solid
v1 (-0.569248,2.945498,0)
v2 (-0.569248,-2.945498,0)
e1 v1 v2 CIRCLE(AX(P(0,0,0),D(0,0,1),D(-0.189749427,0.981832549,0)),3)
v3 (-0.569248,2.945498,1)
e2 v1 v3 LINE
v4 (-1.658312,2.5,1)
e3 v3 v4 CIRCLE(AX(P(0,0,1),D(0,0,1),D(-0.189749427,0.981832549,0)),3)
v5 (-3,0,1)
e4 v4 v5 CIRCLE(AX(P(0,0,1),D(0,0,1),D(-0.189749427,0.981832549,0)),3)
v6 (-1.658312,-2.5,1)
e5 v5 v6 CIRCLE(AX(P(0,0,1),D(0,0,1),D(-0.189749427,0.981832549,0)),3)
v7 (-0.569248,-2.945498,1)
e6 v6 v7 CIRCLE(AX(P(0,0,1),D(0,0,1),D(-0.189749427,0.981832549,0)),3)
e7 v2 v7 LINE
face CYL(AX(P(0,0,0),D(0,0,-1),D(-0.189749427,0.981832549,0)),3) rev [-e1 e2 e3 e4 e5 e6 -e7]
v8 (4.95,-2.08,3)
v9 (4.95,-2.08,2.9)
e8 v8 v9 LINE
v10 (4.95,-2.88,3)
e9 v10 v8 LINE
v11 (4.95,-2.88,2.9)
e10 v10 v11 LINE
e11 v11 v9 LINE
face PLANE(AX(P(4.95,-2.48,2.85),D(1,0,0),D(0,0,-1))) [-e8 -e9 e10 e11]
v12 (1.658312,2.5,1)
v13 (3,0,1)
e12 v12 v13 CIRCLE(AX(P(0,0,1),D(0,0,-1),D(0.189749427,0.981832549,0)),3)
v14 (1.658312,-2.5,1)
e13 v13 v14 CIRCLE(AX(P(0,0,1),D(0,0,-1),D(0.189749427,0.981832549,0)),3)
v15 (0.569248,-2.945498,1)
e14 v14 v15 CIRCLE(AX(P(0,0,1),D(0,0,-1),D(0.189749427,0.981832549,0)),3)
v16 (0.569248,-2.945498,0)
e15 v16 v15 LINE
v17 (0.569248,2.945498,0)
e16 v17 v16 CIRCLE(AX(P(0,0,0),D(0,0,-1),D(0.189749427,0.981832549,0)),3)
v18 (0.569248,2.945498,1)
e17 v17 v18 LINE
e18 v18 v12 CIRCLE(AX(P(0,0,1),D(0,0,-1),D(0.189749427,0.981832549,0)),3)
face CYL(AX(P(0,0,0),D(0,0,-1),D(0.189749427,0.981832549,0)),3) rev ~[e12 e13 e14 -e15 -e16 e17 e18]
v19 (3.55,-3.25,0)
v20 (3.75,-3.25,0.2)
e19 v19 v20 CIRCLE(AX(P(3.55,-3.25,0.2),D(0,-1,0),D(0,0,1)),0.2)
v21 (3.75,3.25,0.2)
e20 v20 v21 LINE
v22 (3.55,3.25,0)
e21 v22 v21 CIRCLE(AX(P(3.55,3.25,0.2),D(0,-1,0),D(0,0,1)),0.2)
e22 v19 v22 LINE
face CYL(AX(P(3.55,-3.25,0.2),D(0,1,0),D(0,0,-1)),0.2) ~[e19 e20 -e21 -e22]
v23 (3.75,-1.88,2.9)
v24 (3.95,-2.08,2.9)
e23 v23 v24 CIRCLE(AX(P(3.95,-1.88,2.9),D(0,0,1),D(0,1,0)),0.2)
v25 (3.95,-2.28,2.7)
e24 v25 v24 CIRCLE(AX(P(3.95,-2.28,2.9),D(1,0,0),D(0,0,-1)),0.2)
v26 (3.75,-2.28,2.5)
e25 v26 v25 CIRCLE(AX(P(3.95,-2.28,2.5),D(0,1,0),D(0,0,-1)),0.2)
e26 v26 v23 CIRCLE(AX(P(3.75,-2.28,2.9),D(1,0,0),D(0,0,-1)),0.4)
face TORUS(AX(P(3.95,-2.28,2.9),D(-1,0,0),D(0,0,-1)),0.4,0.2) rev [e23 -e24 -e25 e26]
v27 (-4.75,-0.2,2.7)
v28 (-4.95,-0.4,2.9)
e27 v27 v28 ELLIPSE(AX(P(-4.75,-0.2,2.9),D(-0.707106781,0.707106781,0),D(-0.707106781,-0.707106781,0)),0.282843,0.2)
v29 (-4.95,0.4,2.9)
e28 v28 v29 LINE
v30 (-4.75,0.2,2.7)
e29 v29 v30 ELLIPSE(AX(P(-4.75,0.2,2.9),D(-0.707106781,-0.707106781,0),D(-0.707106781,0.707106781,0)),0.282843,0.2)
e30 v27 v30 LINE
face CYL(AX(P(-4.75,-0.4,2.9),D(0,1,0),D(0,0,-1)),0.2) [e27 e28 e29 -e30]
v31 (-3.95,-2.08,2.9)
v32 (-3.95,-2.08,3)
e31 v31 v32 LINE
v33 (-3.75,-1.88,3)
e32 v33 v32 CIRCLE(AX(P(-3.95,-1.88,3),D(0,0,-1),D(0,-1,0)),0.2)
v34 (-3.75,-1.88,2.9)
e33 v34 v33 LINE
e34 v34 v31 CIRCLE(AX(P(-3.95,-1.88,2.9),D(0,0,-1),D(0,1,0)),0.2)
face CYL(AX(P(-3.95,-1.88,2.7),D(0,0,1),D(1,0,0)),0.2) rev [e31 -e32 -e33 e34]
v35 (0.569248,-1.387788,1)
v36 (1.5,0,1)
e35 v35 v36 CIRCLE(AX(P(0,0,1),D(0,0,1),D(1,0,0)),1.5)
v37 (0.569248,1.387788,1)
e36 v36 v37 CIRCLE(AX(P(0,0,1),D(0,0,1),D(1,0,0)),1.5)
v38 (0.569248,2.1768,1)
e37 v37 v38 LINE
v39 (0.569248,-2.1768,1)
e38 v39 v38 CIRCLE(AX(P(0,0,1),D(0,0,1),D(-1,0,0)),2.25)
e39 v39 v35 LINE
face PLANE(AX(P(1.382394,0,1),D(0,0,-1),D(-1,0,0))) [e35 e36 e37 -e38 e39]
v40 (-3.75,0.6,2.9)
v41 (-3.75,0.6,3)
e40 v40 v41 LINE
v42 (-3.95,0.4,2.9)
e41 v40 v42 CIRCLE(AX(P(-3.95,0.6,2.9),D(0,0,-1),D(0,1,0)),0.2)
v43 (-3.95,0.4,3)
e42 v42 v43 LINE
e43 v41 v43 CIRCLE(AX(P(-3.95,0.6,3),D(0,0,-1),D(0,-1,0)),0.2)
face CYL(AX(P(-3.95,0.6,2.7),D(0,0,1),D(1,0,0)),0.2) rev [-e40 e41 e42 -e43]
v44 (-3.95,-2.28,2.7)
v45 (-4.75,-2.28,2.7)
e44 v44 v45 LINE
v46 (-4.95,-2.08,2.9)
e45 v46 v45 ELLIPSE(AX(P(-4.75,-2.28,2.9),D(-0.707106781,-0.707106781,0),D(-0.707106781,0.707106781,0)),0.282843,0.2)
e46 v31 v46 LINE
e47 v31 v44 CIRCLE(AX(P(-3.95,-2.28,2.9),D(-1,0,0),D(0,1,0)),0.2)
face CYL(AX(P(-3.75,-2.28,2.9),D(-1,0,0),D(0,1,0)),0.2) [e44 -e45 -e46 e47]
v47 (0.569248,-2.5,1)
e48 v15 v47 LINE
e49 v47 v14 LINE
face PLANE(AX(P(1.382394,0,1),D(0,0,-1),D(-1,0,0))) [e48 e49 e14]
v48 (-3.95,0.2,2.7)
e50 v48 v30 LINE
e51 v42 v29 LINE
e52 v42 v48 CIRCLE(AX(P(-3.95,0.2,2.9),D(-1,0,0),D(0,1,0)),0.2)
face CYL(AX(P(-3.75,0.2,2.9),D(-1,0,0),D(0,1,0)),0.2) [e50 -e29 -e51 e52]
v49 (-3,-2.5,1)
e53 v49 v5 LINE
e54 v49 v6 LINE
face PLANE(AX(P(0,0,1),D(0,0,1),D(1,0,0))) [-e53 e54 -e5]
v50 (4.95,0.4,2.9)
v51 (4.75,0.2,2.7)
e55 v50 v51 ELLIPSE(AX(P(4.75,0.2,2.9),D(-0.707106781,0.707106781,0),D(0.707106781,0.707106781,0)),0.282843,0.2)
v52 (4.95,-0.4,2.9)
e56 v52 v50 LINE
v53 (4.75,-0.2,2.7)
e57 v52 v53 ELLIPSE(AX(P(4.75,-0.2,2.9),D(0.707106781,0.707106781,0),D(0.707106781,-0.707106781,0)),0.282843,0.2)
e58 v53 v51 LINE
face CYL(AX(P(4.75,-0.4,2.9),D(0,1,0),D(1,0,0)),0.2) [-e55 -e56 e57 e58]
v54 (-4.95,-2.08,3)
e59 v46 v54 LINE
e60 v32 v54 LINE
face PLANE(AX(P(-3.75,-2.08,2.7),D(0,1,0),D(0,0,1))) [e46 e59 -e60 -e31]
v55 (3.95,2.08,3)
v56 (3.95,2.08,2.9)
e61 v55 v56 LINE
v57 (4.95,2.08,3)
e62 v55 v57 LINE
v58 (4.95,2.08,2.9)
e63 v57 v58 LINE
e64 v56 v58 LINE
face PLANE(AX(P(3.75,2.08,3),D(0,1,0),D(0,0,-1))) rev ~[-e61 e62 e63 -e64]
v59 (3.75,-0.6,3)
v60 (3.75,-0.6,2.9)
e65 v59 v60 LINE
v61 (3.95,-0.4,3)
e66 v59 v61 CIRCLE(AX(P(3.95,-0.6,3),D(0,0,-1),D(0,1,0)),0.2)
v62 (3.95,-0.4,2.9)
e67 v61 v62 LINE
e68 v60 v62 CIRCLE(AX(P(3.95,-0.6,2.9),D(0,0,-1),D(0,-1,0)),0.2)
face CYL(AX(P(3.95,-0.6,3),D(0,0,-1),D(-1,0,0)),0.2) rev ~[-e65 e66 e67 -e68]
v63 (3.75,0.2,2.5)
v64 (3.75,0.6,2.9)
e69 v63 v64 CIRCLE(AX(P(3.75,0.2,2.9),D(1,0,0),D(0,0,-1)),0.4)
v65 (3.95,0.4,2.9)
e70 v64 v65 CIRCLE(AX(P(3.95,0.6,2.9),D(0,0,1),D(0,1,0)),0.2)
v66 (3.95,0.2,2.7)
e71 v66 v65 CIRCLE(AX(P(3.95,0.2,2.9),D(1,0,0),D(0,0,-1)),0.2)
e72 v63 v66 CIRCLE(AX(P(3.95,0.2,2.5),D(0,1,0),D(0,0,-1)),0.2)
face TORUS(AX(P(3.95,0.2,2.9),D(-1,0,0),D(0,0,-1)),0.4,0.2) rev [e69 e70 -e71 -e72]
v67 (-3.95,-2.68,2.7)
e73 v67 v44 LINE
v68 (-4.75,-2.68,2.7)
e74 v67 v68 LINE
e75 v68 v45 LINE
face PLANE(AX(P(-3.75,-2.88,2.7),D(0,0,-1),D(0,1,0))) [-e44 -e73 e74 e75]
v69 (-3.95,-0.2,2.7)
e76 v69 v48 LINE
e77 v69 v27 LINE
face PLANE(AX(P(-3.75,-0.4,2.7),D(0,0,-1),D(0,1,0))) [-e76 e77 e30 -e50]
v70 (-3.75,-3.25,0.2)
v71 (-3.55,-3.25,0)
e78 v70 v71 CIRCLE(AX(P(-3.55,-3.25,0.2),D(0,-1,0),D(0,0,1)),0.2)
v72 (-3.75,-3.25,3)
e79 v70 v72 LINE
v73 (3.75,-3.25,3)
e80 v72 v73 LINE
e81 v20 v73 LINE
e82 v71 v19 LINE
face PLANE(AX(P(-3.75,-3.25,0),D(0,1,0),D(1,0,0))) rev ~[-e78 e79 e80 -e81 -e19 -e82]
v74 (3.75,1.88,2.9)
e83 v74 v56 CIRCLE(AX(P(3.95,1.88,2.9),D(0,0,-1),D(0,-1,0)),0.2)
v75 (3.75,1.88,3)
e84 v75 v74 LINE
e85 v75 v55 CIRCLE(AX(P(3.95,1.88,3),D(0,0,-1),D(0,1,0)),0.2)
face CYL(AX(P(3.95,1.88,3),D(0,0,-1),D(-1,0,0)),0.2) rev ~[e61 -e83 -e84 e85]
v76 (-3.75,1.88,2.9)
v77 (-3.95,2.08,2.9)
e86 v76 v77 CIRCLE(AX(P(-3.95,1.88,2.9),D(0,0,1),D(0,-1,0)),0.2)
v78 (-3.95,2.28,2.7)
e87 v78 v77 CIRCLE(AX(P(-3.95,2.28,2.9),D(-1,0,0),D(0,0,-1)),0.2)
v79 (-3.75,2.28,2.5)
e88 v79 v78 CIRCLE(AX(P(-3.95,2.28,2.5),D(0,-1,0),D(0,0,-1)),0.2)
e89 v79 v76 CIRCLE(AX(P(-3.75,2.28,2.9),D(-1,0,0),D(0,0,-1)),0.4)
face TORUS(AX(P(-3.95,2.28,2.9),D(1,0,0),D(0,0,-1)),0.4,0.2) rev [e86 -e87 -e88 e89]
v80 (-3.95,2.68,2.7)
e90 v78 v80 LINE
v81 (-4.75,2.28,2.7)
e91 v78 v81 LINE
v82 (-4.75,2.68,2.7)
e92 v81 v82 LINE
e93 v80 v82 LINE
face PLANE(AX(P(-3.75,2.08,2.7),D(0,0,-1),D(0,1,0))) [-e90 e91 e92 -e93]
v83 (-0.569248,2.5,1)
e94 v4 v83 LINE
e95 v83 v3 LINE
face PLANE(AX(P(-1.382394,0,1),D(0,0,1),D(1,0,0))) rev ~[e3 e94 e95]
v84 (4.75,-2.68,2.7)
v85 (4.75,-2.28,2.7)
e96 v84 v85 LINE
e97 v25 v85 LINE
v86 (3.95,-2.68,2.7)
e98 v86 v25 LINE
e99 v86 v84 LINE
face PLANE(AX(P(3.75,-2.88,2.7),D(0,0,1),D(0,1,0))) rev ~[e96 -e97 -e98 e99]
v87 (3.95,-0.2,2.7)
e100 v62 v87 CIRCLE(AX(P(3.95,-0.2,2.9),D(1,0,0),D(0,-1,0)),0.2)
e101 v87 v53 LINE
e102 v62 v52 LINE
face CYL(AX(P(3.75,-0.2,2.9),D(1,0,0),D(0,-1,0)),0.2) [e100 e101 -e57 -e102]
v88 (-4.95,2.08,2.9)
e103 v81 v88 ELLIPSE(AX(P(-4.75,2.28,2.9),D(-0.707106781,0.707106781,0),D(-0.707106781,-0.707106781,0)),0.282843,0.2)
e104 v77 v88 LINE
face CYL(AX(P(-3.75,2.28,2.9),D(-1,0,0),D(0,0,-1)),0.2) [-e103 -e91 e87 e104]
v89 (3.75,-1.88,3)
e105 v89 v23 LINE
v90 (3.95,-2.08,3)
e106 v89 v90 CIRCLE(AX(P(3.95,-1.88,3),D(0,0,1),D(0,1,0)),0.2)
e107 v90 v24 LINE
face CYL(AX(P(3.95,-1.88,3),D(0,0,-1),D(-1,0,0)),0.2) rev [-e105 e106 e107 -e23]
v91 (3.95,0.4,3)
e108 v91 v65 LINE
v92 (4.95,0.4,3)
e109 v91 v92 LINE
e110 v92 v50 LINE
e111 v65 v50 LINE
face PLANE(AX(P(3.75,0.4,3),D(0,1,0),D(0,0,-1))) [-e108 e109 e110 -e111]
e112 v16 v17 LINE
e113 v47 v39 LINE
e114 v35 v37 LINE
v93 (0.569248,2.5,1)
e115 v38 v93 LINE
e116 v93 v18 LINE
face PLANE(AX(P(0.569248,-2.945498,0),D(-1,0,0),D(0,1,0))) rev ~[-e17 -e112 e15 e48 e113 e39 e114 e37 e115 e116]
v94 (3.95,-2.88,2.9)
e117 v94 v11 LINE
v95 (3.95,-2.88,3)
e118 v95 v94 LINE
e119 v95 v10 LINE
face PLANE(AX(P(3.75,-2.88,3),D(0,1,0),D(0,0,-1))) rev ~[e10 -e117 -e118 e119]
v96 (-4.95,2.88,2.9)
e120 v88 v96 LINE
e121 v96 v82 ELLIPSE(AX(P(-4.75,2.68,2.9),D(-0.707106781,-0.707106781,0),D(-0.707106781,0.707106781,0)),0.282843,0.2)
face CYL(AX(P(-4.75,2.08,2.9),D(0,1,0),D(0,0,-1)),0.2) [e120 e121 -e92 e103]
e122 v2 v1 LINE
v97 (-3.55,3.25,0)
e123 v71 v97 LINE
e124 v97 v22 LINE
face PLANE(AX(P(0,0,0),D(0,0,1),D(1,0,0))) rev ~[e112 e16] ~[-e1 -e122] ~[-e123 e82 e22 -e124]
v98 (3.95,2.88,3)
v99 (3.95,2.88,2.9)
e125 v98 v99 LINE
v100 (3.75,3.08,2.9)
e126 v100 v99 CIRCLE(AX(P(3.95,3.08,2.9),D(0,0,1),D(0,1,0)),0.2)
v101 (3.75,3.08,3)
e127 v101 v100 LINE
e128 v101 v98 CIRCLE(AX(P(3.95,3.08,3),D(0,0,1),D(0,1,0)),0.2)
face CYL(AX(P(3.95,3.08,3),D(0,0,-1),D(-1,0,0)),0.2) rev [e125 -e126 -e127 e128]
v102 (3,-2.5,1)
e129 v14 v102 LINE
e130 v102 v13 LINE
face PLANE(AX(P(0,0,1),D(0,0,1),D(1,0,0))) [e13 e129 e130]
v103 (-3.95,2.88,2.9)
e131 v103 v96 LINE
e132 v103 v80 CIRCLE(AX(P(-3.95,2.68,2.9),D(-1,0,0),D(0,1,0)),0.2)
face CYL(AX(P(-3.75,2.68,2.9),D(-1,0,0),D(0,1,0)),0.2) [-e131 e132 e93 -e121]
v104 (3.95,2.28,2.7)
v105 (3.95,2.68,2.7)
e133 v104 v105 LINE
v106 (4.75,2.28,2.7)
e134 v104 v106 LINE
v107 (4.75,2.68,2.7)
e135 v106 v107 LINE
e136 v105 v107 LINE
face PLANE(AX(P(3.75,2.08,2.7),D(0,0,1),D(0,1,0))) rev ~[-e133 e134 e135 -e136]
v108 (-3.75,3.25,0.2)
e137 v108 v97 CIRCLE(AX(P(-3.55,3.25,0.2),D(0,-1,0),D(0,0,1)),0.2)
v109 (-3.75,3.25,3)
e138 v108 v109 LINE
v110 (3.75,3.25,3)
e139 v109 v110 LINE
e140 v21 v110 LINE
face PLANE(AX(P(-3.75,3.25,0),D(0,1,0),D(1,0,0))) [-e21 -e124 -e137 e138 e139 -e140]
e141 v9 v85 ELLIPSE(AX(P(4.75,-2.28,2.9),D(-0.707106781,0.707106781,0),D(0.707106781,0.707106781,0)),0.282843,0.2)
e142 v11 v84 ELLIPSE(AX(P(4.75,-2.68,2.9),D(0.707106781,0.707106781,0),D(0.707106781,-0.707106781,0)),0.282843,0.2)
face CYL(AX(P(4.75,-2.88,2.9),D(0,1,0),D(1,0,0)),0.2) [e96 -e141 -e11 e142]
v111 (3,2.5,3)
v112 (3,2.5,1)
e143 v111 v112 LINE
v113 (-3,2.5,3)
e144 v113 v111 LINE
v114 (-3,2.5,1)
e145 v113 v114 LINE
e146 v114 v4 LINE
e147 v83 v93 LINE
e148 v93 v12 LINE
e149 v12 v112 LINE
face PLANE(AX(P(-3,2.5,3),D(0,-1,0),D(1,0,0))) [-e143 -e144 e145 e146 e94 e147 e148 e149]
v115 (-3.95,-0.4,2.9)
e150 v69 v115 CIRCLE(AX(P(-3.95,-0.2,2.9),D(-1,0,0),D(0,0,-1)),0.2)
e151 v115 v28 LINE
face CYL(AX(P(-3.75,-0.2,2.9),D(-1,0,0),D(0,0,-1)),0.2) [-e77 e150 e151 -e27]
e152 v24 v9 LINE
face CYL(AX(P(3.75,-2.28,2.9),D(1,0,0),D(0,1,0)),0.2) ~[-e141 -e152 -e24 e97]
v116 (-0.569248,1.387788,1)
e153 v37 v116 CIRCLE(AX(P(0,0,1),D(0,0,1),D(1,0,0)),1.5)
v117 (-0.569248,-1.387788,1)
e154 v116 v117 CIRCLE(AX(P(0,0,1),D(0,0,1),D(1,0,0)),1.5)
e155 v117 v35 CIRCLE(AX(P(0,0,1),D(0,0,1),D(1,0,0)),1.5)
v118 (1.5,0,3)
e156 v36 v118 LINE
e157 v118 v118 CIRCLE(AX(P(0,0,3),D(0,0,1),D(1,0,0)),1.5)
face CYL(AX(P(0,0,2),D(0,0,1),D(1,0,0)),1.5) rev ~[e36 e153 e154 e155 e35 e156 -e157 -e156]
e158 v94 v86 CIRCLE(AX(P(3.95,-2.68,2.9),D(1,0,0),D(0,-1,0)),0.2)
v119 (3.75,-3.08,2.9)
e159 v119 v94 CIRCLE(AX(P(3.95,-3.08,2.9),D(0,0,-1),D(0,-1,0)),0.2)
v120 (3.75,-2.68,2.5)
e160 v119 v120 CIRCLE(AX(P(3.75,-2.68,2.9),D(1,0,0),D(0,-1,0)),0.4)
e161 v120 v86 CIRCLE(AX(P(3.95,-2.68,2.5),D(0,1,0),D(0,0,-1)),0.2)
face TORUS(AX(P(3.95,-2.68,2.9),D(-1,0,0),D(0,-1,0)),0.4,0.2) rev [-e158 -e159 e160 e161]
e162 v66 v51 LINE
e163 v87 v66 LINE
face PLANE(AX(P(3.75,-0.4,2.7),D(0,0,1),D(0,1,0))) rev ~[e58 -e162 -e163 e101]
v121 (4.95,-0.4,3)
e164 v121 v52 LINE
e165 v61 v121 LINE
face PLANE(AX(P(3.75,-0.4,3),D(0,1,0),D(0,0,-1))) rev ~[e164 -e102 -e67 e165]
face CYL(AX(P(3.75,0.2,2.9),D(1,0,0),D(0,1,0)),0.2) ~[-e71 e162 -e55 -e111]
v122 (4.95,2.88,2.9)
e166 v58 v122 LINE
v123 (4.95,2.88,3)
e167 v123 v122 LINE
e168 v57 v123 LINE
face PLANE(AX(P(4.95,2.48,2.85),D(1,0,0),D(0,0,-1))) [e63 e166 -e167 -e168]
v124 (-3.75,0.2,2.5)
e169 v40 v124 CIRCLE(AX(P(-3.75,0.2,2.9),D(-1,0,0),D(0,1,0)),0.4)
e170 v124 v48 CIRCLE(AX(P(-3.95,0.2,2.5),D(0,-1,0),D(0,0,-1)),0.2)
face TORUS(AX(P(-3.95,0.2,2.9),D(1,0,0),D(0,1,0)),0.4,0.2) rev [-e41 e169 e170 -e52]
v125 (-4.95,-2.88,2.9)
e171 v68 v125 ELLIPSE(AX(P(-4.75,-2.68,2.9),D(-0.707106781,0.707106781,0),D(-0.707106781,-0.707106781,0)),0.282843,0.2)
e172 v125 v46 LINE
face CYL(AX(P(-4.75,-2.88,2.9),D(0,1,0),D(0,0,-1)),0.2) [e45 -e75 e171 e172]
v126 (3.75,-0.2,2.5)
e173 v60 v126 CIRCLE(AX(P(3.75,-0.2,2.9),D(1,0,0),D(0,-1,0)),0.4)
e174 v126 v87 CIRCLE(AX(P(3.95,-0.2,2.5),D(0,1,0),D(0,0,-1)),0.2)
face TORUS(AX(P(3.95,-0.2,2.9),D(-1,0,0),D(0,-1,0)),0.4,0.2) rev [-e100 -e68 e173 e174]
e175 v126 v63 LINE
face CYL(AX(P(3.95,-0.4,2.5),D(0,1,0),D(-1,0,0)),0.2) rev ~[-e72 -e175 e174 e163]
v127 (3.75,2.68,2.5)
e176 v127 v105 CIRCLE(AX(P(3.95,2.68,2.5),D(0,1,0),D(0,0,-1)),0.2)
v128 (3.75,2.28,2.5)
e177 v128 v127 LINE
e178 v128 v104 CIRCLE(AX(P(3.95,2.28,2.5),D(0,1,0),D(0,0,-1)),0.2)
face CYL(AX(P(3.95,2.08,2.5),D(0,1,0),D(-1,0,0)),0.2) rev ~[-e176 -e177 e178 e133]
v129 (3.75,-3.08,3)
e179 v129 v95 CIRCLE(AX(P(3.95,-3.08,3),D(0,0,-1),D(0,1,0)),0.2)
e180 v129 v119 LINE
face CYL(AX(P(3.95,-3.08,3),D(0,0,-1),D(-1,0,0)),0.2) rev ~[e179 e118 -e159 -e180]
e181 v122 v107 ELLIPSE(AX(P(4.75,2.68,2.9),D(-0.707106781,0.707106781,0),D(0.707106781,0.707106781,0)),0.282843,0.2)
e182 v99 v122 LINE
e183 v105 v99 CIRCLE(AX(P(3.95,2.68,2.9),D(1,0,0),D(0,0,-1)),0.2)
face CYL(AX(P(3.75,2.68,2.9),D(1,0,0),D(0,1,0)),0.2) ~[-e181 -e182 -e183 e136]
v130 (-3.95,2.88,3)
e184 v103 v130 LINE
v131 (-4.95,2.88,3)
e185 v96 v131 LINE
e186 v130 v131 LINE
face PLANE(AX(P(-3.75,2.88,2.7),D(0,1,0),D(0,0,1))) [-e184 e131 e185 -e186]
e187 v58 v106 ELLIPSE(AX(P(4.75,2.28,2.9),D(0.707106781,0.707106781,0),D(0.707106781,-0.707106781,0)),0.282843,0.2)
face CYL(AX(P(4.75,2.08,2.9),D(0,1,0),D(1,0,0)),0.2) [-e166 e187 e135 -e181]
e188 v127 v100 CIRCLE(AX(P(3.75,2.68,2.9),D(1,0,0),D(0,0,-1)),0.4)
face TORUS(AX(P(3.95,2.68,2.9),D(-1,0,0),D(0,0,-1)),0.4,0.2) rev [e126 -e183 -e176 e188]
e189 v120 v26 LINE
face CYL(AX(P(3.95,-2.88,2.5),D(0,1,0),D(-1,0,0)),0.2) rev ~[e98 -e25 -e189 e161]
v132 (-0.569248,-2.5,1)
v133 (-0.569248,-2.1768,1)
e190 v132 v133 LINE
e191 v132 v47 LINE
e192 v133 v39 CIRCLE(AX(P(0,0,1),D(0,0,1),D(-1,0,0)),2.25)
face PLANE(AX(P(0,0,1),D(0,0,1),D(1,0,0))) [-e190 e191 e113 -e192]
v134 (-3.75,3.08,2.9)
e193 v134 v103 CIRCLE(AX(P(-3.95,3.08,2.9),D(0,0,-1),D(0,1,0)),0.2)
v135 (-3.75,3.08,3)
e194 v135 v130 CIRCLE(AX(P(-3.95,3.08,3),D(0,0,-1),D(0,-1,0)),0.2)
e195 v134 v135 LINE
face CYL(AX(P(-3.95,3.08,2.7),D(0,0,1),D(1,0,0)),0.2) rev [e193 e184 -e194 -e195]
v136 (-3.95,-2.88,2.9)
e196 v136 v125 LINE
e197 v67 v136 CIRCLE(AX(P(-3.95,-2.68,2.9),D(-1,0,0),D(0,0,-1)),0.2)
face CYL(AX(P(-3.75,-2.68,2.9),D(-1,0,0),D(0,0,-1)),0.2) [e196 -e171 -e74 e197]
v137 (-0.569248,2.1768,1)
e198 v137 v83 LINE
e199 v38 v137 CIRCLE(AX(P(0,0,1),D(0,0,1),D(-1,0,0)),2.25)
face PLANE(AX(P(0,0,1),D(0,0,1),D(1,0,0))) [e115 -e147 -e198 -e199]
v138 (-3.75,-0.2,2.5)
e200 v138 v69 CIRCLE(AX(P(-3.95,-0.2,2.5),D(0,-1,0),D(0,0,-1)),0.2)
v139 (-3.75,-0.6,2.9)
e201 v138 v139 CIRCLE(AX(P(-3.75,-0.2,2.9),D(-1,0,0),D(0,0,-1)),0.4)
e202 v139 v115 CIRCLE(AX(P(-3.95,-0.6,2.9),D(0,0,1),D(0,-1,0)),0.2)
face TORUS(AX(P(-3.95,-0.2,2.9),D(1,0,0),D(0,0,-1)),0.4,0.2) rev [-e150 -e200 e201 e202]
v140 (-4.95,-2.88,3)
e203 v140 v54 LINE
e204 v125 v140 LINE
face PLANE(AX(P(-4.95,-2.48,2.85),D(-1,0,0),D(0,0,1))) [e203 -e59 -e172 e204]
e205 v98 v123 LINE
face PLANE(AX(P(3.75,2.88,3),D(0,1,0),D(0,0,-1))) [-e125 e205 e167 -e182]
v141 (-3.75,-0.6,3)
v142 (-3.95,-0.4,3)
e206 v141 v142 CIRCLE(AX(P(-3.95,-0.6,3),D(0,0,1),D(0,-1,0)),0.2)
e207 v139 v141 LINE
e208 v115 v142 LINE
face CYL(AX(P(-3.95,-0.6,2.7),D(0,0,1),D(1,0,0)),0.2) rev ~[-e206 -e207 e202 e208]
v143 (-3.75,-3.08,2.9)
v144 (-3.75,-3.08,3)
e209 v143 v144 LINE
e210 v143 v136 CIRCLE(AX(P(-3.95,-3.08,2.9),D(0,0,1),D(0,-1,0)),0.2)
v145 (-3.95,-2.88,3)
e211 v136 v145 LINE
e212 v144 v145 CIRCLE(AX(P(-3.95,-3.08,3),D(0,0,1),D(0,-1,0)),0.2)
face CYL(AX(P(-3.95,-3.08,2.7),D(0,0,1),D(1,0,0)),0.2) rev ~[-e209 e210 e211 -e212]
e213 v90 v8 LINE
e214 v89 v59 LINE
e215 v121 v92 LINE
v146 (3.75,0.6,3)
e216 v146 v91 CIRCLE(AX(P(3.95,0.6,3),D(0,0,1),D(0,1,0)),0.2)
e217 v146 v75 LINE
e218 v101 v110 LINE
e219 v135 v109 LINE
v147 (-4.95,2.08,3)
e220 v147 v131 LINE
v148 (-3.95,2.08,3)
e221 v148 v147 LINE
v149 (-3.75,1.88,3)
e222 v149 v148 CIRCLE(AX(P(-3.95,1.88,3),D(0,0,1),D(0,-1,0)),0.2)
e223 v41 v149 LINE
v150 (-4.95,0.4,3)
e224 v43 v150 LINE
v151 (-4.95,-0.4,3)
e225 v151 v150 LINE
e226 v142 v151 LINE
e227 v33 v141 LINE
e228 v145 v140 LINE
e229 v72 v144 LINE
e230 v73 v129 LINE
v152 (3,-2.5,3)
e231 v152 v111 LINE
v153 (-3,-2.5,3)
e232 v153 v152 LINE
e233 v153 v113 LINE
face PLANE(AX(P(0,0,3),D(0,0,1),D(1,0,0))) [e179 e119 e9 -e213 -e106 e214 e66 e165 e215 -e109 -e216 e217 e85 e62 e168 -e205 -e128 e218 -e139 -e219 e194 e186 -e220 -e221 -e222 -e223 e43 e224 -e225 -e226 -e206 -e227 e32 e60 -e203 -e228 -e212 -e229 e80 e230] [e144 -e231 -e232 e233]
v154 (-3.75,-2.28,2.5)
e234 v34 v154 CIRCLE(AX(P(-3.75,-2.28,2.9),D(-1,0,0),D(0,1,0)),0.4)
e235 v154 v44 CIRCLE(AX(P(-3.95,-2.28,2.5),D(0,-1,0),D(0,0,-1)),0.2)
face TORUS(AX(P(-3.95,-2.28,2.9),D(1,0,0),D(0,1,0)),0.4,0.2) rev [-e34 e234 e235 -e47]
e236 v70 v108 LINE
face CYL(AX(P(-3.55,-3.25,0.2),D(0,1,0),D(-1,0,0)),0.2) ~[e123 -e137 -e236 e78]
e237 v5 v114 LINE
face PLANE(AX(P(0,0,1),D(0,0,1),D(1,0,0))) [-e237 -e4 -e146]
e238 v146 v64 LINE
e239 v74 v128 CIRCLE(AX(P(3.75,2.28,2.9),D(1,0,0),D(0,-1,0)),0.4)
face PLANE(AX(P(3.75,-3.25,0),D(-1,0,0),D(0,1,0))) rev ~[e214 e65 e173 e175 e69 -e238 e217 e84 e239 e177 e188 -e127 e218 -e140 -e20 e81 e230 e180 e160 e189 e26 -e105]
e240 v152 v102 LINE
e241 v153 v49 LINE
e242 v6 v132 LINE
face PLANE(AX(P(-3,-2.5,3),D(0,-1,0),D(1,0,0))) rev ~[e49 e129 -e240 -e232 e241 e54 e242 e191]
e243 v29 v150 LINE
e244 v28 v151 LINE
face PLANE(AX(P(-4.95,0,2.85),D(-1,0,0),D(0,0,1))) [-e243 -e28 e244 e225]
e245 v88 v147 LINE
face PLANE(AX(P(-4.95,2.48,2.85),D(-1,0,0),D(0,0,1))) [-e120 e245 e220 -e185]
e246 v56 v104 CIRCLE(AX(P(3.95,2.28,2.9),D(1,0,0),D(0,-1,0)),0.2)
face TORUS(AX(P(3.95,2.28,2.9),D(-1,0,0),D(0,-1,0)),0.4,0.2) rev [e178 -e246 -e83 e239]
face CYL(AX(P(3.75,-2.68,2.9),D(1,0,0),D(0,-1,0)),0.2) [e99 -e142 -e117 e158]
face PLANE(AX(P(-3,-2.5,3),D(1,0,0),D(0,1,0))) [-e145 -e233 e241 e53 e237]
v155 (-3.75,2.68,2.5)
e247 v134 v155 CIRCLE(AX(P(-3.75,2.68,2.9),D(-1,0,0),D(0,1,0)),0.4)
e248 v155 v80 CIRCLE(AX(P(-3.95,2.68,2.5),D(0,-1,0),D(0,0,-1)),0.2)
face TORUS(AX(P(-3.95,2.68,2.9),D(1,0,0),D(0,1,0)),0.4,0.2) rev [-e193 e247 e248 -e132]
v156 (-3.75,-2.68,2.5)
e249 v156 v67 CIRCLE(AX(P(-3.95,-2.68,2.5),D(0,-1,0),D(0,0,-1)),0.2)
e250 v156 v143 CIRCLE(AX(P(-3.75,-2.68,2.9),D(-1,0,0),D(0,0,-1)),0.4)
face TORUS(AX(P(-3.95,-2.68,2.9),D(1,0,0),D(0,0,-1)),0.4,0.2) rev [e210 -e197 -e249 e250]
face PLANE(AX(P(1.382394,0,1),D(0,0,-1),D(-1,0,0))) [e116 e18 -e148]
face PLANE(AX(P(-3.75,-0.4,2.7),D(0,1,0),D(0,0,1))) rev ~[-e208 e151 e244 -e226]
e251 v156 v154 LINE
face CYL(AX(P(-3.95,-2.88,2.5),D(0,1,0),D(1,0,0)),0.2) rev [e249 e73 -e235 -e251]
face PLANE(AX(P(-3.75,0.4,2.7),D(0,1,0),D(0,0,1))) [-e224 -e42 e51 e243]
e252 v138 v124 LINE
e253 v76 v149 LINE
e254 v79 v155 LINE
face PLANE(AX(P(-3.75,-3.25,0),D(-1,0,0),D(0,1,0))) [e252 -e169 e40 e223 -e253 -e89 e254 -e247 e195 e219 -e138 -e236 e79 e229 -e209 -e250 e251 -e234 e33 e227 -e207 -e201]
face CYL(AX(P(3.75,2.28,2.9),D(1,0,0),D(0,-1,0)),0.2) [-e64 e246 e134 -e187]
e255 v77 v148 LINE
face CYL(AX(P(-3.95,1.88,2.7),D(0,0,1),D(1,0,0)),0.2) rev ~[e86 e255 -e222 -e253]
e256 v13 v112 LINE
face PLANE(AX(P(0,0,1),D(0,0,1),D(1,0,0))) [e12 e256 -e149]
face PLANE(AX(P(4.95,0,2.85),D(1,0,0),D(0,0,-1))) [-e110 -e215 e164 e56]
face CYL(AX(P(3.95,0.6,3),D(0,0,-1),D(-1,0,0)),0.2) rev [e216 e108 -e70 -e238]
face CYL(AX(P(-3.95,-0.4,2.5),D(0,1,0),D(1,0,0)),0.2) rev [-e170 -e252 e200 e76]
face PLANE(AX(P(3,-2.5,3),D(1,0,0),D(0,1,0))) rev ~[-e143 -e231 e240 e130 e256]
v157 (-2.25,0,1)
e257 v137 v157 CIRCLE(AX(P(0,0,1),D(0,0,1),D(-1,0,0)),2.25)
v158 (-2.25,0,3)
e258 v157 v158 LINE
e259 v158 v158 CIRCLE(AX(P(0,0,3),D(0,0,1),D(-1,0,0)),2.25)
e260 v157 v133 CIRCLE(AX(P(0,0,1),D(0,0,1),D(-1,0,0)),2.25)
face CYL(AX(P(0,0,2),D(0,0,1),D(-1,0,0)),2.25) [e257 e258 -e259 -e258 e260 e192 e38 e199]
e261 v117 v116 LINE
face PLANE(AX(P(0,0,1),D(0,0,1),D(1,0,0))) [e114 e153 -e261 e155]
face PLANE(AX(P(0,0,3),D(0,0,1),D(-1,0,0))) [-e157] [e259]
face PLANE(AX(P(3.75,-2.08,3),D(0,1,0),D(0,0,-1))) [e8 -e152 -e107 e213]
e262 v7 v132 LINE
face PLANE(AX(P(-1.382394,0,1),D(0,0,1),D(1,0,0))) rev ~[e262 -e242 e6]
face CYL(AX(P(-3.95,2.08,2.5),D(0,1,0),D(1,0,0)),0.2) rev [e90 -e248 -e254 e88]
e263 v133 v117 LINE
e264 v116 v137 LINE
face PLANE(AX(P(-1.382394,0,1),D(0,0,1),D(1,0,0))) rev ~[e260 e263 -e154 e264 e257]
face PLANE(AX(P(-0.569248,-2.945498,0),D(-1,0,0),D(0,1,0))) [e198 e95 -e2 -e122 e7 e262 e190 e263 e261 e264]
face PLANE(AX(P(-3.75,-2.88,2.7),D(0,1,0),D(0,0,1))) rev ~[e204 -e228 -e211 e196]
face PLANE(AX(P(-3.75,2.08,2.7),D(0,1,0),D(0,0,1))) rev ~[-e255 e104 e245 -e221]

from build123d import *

# Parameters (mm, degrees)
SKETCH_1_W          = 7.5
SKETCH_1_H          = 6.5
EXTRUDE_1_DEPTH     = 3
SKETCH_2_W          = 6
SKETCH_2_H          = 5
CUT_EXTRUDE_1_DEPTH = 2
SKETCH_3_R          = 2.25
EXTRUDE_2_DEPTH     = 1
SKETCH_4_R          = 1.5
CUT_EXTRUDE_2_DEPTH = 1
CUT_EXTRUDE_5_DEPTH = 1
SKETCH_9_W          = 0.3
SKETCH_9_H          = 0.8
EXTRUDE_5_DEPTH     = 1.2
SKETCH_11_W         = 0.3
SKETCH_11_H         = 0.8
EXTRUDE_6_DEPTH     = 1.2
FILLET_4_R          = 0.2
FILLET_5_R          = 0.2


with BuildPart() as part:
    # 草图1 → 凸台-拉伸1 (new body)
    with BuildSketch(Plane.XY):
        Rectangle(SKETCH_1_W, SKETCH_1_H)
    extrude(amount=EXTRUDE_1_DEPTH)

    # 草图2 → 切除-拉伸1 (cut)
    with BuildSketch(Plane.XY.offset(3)):
        Rectangle(SKETCH_2_W, SKETCH_2_H)
    extrude(amount=-CUT_EXTRUDE_1_DEPTH, mode=Mode.SUBTRACT)

    # 草图3 → 凸台-拉伸2 (add, symmetric)
    with BuildSketch(Plane.XY.offset(2)):
        with Locations(Location((0, 0, 0), (0, 0, 180))):
            Circle(SKETCH_3_R)
    extrude(amount=EXTRUDE_2_DEPTH, both=True)

    # 草图4 → 切除-拉伸2 (cut, symmetric)
    with BuildSketch(Plane.XY.offset(2)):
        Circle(SKETCH_4_R)
    extrude(amount=CUT_EXTRUDE_2_DEPTH, both=True, mode=Mode.SUBTRACT)

    # 草图8 → 切除-拉伸5 (cut)
    with BuildSketch(Plane(origin=(0, 0, 0), x_dir=(-1, 0, 0), z_dir=(0, 0, -1))):
        with BuildLine():
            Line((-0.56924828, -2.945497648), (-0.56924828, 2.945497648))
            ThreePointArc((-0.56924828, 2.945497648), (-3, 0), (-0.56924828, -2.945497648))
        make_face()
        with BuildLine():
            Line((0.56924828, -2.945497648), (0.56924828, 2.945497648))
            ThreePointArc((0.56924828, 2.945497648), (3, 0), (0.56924828, -2.945497648))
        make_face()
    extrude(amount=-CUT_EXTRUDE_5_DEPTH, mode=Mode.SUBTRACT)

    # 草图9 → 凸台-拉伸5 (add)
    with BuildSketch(Plane(origin=(3.75, 0, 0), x_dir=(0, 0, -1), z_dir=(1, 0, 0))):
        with Locations((-2.85, 2.48)):
            Rectangle(SKETCH_9_W, SKETCH_9_H)
        with Locations((-2.85, -2.48)):
            Rectangle(SKETCH_9_W, SKETCH_9_H)
        with Locations((-2.85, 0)):
            Rectangle(SKETCH_9_W, SKETCH_9_H)
    extrude(amount=EXTRUDE_5_DEPTH)

    # 草图11 → 凸台-拉伸6 (add)
    with BuildSketch(Plane.ZY.offset(3.75)):
        with Locations((2.85, 2.48)):
            Rectangle(SKETCH_11_W, SKETCH_11_H)
        with Locations((2.85, -2.48)):
            Rectangle(SKETCH_11_W, SKETCH_11_H)
        with Locations((2.85, 0)):
            Rectangle(SKETCH_11_W, SKETCH_11_H)
    extrude(amount=EXTRUDE_6_DEPTH)

    # 圆角4
    fillet_4_edges = [part.edges().sort_by_distance(p)[0] for p in [
        (3.75, -0.4, 2.85),
        (3.75, 0, 2.7),
        (4.35, -0.4, 2.7),
        (3.75, 0.4, 2.85),
        (4.35, 0.4, 2.7),
        (4.95, 0, 2.7),
        (-3.75, 2.88, 2.85),
        (-3.75, 2.48, 2.7),
        (-4.35, 2.88, 2.7),
        (-3.75, 2.08, 2.85),
        (-4.35, 2.08, 2.7),
        (-4.95, 2.48, 2.7),
        (-3.75, -2.08, 2.85),
        (-3.75, -2.48, 2.7),
        (-4.35, -2.08, 2.7),
        (-3.75, -2.88, 2.85),
        (-4.35, -2.88, 2.7),
        (-4.95, -2.48, 2.7),
        (-3.75, 0.4, 2.85),
        (-3.75, 0, 2.7),
        (-4.35, 0.4, 2.7),
        (-3.75, -0.4, 2.85),
        (-4.35, -0.4, 2.7),
        (-4.95, 0, 2.7),
        (3.75, 2.08, 2.85),
        (3.75, 2.48, 2.7),
        (4.35, 2.08, 2.7),
        (3.75, 2.88, 2.85),
        (4.35, 2.88, 2.7),
        (4.95, 2.48, 2.7),
        (3.75, -2.88, 2.85),
        (3.75, -2.48, 2.7),
        (4.35, -2.88, 2.7),
        (3.75, -2.08, 2.85),
        (4.35, -2.08, 2.7),
        (4.95, -2.48, 2.7),
    ]]
    fillet(fillet_4_edges, radius=FILLET_4_R)

    # 圆角5
    fillet_5_edges = [part.edges().sort_by_distance(p)[0] for p in [
        (-3.75, 0, 0),
        (3.75, 0, 0),
    ]]
    fillet(fillet_5_edges, radius=FILLET_5_R)


solid = part.part
